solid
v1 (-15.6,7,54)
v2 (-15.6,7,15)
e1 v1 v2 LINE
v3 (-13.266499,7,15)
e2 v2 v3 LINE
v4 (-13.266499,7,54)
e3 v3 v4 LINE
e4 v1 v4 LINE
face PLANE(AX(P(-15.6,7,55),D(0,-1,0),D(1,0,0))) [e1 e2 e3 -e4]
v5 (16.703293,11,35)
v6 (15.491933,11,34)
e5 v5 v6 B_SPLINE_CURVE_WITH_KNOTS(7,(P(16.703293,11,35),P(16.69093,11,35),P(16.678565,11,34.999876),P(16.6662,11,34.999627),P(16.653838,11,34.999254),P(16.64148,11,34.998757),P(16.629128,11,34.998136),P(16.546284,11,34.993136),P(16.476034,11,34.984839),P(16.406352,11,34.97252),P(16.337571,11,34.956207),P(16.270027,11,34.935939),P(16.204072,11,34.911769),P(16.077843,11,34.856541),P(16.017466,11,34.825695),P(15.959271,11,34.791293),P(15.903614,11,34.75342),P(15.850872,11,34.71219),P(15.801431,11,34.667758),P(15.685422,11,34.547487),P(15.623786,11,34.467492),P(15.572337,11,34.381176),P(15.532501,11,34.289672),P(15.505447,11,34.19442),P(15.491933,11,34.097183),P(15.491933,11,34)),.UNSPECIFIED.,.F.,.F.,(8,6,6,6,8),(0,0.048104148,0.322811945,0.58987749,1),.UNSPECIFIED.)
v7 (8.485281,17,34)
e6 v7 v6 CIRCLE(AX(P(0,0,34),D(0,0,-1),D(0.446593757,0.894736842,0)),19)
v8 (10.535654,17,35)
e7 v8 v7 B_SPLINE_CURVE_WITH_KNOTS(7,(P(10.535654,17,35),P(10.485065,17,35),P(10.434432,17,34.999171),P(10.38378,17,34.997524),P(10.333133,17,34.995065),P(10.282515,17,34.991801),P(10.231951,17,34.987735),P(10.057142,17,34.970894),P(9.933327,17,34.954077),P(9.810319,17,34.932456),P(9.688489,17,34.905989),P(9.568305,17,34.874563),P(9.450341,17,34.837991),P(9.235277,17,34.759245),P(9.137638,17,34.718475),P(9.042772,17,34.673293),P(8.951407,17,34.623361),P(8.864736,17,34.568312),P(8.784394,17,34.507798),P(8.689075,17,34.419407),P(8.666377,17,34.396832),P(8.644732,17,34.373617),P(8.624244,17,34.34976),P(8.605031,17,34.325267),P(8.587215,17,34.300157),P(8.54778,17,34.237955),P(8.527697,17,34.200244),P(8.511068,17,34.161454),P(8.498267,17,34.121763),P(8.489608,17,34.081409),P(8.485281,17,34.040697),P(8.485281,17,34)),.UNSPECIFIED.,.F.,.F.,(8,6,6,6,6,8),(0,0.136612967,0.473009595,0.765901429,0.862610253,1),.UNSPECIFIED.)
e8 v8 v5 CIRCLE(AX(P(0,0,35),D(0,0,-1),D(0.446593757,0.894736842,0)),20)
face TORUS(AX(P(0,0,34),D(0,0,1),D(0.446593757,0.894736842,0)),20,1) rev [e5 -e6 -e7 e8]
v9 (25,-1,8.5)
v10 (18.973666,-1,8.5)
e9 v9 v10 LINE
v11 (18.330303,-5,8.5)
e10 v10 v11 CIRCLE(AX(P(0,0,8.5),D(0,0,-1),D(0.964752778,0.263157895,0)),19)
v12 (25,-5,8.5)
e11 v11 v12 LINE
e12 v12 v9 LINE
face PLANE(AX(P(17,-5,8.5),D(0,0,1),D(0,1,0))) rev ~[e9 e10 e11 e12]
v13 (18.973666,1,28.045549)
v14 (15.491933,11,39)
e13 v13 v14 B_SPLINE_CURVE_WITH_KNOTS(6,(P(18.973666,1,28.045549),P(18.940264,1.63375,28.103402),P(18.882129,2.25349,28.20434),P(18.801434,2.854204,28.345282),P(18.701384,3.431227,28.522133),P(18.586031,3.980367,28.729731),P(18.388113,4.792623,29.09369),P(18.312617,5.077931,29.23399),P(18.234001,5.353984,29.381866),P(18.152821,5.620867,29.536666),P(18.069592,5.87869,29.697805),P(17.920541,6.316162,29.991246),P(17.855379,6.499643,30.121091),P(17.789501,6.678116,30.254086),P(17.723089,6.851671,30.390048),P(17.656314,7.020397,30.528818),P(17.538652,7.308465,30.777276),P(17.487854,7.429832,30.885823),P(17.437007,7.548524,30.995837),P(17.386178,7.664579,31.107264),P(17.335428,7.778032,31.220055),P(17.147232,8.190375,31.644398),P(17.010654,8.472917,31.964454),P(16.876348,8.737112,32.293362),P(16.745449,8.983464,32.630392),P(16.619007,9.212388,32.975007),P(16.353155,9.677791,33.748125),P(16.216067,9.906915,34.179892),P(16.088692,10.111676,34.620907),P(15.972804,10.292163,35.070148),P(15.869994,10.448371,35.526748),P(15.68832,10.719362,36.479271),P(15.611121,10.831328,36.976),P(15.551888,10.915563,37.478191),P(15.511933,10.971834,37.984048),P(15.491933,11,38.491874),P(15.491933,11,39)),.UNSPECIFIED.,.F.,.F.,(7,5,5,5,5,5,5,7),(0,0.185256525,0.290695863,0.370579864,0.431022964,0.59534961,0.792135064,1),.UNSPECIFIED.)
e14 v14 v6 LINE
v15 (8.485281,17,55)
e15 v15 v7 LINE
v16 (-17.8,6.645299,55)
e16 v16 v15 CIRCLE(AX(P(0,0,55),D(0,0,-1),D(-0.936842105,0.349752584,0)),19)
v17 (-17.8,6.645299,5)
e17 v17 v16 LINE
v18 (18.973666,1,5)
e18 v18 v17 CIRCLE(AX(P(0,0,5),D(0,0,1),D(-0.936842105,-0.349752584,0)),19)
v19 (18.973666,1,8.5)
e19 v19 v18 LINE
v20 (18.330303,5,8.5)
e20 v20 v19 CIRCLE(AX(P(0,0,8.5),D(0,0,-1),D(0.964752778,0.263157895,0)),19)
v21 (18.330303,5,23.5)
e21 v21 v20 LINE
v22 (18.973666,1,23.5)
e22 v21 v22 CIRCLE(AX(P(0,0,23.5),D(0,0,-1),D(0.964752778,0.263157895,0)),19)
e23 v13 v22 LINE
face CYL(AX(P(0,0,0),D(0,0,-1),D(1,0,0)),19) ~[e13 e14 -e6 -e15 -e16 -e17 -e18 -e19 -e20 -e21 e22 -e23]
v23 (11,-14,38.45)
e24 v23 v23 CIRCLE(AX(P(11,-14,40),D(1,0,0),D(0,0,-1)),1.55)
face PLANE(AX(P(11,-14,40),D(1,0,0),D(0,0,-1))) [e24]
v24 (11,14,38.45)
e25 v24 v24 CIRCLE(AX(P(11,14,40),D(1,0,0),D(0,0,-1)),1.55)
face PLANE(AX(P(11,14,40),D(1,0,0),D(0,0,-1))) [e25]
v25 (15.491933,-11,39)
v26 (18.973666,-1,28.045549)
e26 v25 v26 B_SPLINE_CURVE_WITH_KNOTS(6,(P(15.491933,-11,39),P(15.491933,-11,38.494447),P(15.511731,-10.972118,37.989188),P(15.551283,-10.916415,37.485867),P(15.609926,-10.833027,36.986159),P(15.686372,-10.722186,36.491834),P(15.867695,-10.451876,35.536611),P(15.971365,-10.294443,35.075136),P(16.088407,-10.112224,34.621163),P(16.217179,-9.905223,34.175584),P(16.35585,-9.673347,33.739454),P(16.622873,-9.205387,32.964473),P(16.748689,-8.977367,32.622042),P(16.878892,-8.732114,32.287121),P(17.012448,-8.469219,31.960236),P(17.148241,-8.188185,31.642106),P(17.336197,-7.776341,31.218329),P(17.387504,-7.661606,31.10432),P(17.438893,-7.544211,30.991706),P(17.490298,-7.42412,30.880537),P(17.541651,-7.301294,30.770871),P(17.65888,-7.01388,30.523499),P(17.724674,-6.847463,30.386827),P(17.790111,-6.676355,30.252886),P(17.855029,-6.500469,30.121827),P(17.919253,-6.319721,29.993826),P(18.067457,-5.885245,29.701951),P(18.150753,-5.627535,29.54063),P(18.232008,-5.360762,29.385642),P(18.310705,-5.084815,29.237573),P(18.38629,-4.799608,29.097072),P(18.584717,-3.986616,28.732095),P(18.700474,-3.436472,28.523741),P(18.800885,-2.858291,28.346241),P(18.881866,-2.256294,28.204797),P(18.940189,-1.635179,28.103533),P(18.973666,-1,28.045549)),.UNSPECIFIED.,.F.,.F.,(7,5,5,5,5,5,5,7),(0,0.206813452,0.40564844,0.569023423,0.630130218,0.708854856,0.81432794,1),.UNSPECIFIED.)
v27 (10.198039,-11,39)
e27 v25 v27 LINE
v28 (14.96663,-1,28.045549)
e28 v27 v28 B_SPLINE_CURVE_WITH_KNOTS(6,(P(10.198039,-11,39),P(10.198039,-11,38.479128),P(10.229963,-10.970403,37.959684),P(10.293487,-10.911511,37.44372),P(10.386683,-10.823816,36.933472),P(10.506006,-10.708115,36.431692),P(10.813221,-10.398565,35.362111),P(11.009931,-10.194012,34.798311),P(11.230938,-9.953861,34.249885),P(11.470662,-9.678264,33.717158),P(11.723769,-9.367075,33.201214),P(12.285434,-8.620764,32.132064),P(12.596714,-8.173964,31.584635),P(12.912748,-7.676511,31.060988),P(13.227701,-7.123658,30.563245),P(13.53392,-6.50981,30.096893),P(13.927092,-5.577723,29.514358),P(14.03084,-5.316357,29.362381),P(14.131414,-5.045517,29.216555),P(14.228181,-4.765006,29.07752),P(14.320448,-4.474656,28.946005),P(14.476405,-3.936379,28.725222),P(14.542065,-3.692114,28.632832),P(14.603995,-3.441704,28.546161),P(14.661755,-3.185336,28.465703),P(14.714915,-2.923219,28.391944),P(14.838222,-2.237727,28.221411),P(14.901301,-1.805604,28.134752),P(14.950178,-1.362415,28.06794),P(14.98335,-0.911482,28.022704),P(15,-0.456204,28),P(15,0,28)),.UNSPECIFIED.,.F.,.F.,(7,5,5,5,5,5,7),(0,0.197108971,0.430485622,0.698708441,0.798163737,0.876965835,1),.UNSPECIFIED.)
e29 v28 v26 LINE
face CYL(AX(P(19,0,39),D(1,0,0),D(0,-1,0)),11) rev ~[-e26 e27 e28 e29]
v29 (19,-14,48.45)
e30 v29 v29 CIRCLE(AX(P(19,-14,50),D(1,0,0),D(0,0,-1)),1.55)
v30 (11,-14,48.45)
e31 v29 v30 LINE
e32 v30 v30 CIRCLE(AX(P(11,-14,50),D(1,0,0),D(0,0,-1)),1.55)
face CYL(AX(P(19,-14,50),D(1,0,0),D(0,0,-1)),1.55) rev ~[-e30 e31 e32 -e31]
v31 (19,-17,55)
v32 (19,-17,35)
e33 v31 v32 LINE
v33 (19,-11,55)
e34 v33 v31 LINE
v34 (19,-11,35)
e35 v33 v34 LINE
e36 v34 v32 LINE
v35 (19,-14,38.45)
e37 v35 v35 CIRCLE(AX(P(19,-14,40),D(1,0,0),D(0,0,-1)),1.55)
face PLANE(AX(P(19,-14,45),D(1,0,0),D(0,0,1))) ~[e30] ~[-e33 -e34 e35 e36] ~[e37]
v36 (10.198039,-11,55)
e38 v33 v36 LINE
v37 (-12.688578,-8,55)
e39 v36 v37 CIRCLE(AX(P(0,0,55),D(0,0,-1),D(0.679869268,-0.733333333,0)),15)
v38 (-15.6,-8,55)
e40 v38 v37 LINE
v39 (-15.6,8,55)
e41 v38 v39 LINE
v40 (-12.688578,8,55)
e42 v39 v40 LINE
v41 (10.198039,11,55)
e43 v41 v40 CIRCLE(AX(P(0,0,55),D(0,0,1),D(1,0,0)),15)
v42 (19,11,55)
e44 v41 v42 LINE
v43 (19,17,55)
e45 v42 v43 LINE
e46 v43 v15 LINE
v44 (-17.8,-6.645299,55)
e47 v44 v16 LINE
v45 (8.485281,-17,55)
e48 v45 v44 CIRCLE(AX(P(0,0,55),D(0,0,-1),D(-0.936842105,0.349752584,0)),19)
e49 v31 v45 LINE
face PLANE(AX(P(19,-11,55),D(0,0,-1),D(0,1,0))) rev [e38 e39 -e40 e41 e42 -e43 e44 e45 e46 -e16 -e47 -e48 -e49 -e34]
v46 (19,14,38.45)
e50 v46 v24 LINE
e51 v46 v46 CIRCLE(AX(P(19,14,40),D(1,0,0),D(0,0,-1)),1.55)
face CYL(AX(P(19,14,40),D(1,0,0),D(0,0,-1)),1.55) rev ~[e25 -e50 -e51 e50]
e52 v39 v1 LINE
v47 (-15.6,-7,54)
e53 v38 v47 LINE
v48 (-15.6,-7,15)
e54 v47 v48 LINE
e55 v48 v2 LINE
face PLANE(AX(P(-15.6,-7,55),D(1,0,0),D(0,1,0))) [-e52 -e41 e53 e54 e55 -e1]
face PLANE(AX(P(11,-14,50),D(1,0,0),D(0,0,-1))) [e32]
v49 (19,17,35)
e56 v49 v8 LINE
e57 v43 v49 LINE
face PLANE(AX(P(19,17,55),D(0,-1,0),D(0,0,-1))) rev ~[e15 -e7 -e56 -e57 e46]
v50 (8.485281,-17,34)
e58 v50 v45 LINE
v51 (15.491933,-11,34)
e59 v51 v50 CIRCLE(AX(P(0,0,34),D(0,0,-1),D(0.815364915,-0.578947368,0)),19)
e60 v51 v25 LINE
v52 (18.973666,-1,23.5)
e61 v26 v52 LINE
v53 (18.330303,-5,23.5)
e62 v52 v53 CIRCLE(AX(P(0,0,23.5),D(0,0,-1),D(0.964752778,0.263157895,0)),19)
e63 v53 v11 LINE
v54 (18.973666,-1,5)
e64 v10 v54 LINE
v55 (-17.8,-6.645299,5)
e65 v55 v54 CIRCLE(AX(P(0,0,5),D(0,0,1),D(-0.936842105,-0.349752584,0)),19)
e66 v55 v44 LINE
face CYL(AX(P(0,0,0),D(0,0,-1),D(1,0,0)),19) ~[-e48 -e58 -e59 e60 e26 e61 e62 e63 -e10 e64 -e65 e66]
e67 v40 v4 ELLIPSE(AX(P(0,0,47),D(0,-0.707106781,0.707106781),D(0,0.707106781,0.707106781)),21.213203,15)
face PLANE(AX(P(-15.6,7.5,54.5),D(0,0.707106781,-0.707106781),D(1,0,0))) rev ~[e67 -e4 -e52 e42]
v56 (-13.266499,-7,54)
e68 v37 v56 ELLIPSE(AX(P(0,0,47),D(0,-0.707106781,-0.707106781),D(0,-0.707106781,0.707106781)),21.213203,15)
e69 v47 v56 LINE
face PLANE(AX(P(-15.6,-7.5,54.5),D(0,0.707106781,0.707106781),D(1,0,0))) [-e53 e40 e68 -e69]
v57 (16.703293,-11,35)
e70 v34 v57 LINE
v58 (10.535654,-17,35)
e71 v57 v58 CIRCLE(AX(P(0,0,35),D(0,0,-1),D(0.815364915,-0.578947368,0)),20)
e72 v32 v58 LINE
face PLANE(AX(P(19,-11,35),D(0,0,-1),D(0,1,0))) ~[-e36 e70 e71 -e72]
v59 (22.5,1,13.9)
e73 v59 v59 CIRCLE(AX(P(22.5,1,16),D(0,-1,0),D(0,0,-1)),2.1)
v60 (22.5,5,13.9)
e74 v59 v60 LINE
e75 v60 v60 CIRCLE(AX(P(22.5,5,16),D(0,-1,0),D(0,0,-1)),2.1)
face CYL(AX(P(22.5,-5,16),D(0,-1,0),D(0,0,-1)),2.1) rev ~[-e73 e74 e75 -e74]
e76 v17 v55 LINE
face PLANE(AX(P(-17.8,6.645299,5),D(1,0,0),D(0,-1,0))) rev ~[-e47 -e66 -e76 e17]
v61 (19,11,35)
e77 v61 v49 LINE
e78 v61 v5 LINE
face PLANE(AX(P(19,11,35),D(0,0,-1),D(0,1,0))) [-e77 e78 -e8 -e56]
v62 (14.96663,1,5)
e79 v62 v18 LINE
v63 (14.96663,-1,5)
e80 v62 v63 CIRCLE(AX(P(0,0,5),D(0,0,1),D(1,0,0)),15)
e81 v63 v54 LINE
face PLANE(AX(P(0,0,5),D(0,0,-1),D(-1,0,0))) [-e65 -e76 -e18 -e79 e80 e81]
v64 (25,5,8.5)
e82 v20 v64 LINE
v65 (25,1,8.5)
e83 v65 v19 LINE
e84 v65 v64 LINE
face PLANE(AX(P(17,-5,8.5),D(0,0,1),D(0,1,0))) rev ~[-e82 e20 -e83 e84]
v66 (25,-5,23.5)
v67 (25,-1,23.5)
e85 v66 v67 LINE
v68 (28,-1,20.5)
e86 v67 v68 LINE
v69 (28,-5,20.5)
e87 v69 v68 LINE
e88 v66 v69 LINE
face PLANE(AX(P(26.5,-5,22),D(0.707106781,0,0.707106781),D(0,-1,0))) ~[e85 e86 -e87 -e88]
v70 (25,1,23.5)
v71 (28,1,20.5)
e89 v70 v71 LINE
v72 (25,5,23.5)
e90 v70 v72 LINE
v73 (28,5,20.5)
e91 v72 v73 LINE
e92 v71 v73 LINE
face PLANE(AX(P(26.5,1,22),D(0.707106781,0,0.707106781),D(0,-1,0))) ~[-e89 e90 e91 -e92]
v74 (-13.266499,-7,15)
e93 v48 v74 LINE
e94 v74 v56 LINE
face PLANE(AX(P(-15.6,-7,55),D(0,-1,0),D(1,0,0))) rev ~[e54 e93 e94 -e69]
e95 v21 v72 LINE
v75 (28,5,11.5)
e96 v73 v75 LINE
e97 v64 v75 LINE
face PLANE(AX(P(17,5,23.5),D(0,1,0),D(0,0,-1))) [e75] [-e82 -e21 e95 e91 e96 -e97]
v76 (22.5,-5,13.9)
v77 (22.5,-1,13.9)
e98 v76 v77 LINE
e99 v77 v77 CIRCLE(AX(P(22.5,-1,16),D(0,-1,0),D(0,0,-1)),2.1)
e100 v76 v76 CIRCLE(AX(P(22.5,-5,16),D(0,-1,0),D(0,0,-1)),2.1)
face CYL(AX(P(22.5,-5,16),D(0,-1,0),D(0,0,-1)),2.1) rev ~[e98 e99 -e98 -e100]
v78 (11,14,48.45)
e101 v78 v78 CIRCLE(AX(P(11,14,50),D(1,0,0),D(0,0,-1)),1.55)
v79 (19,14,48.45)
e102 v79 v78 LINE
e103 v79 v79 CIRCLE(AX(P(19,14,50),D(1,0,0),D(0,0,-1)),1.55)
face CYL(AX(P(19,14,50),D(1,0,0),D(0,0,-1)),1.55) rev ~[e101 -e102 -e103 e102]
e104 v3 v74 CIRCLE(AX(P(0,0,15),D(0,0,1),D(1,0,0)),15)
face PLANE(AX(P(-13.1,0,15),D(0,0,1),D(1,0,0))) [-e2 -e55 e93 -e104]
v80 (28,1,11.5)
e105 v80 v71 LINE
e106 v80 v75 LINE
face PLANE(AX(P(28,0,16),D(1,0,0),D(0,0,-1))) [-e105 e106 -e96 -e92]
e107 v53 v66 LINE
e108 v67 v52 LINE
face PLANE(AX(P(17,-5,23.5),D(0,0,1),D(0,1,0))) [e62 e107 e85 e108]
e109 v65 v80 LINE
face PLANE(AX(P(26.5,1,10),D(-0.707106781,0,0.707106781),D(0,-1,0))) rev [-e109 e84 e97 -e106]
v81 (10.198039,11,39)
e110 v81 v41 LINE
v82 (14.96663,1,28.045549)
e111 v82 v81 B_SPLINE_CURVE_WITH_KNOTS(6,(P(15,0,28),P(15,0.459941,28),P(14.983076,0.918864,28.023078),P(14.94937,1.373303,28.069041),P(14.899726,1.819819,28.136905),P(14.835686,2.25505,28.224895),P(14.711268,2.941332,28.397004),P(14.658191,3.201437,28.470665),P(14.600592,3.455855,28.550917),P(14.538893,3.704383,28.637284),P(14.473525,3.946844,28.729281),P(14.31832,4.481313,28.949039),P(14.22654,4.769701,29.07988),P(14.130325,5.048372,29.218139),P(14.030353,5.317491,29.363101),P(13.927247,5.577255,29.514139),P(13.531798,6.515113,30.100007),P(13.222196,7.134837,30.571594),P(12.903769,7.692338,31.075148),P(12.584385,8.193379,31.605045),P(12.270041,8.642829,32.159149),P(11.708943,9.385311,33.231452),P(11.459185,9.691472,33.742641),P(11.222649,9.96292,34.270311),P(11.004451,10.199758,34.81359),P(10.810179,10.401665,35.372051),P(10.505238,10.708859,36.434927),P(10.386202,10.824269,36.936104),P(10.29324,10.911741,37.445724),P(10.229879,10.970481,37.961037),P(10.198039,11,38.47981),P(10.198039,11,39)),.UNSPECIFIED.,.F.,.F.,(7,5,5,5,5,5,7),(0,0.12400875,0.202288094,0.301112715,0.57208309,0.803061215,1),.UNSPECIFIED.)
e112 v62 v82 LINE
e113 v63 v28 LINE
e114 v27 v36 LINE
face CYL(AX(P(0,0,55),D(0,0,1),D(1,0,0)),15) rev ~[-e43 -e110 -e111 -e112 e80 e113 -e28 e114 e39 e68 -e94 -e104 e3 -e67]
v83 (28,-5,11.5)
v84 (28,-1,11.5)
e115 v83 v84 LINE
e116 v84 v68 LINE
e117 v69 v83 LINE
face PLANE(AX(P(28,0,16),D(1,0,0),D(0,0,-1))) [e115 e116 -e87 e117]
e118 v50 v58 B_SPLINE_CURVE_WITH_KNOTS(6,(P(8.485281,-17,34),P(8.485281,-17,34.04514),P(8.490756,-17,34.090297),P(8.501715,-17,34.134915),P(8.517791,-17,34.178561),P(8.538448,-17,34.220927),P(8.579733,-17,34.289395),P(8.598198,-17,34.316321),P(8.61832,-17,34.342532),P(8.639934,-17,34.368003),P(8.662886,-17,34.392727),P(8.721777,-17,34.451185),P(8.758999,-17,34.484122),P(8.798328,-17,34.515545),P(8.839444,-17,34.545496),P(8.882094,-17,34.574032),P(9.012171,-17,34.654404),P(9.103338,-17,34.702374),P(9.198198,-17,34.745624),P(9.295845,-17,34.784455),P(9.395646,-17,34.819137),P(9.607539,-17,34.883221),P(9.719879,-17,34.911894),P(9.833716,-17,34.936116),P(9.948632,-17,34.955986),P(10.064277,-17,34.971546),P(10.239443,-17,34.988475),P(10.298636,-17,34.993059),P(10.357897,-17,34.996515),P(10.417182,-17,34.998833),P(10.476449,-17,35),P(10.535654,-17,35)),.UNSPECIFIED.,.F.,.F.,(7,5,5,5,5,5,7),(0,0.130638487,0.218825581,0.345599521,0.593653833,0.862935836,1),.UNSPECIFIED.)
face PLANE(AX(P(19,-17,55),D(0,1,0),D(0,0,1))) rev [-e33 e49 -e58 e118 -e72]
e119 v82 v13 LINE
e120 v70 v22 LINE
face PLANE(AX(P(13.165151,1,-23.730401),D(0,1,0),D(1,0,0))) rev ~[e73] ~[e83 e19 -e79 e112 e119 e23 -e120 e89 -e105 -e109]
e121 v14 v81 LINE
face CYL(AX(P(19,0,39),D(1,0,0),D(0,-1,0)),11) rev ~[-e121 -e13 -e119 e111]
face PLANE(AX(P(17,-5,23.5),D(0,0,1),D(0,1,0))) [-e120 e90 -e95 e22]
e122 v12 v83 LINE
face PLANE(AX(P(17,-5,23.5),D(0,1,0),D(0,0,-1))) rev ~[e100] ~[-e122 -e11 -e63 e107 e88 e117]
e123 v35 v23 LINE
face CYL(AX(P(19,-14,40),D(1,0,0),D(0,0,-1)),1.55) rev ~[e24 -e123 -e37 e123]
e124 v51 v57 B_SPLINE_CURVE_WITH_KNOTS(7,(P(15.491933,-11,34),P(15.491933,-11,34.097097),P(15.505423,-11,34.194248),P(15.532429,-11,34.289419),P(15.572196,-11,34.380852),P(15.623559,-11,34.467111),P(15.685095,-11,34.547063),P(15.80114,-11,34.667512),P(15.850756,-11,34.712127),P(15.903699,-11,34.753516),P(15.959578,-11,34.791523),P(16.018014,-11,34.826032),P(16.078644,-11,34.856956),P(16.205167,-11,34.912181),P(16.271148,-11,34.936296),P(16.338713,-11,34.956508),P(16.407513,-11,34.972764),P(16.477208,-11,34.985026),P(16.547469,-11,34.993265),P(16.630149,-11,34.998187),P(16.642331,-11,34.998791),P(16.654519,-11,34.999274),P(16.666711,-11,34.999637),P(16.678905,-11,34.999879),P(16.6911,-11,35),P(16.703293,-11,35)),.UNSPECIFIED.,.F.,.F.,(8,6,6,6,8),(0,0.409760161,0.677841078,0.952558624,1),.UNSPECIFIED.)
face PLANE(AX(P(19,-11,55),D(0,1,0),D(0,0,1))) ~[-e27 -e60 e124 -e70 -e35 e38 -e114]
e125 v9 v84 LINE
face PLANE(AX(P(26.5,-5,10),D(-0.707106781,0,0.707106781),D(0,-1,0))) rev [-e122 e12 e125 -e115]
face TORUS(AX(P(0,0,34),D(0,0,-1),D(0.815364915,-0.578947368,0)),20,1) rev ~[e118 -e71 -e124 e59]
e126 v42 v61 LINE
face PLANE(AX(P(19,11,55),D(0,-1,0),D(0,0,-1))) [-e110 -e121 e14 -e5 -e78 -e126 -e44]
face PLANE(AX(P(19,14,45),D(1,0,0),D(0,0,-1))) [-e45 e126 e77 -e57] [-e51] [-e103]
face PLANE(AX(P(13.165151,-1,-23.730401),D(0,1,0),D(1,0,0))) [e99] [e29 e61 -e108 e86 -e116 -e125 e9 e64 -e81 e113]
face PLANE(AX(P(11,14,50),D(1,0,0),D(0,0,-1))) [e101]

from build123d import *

# Parameters (mm, degrees)
SKETCH_1_R                = 19
EXTRUDE_2_DEPTH           = 55
SKETCH_11_W               = 5
SKETCH_11_H               = 14
CUT_EXTRUDE_10_DEPTH      = 40
EXTRUDE_4_DEPTH           = 9
EXTRUDE_4_DEPTH_BACK      = 2
SKETCH_12_W               = 15
SKETCH_12_H               = 10
SKETCH_13_R               = 2.1
CUT_EXTRUDE_11_DEPTH      = 67.219332525
SKETCH_19_R               = 19
CUT_EXTRUDE_17_DEPTH      = 5
CUT_EXTRUDE_19_DEPTH      = 61.373835392
CUT_EXTRUDE_20_DEPTH      = 47.230401253
CUT_EXTRUDE_20_DEPTH_BACK = 47.230401253
SKETCH_14_W               = 20
SKETCH_14_H               = 2
CUT_EXTRUDE_21_DEPTH      = 10
SKETCH_24_W               = 20
SKETCH_24_H               = 6
EXTRUDE_5_DEPTH           = 20
SKETCH_3_R                = 15
CUT_EXTRUDE_1_DEPTH       = 61.373835507
CHAMFER_2_SIZE            = 3
CHAMFER_3_SIZE            = 1
FILLET_2_R                = 1
SKETCH_25_R               = 1.55
CUT_EXTRUDE_22_DEPTH      = 8
PATTERN_LINEAR_1_COUNT    = 2
PATTERN_LINEAR_1_PITCH    = 10
MIRROR_2_COPY_1_SKETCH_R  = 1.55
MIRROR_2_COPY_1_DEPTH     = 8
MIRROR_2_COPY_2_SKETCH_R  = 1.55
MIRROR_2_COPY_2_DEPTH     = 8
FILLET_2_OF_MIRROR_2_R    = 1


with BuildPart() as part:
    # 草圖1 → 填料-伸長2 (new body)
    with BuildSketch(Plane.XY):
        Circle(SKETCH_1_R)
    extrude(amount=EXTRUDE_2_DEPTH)

    # 草圖11 → 除料-伸長10 (cut)
    with BuildSketch(Plane.XY.offset(55)):
        with Locations((-13.1, 0)):
            Rectangle(SKETCH_11_W, SKETCH_11_H)
    extrude(amount=-CUT_EXTRUDE_10_DEPTH, mode=Mode.SUBTRACT)

    # 草圖12 → 填料-伸長4 (add, two sides: drawn at the far end of the back side and taken through both)
    with BuildSketch(Plane(origin=(19, 0, 0), x_dir=(0, 0, -1), z_dir=(1, 0, 0)).offset(-EXTRUDE_4_DEPTH_BACK)):
        with Locations((-16, 0)):
            Rectangle(SKETCH_12_W, SKETCH_12_H)
    extrude(amount=EXTRUDE_4_DEPTH + EXTRUDE_4_DEPTH_BACK)

    # 草圖13 → 除料-伸長11 (cut, through all)
    with BuildSketch(Plane.XZ.offset(5)):
        with Locations(Location((22.5, 16, 0), (0, 0, 270))):
            Circle(SKETCH_13_R)
    extrude(amount=-CUT_EXTRUDE_11_DEPTH, mode=Mode.SUBTRACT)

    # 草圖19 → 除料-伸長17 (cut)
    with BuildSketch(Plane(origin=(0, 0, 0), x_dir=(-1, 0, 0), z_dir=(0, 0, -1))):
        Circle(SKETCH_19_R)
    extrude(amount=-CUT_EXTRUDE_17_DEPTH, mode=Mode.SUBTRACT)

    # 草圖22 → 除料-伸長19 (cut, through all)
    with BuildSketch(Plane(origin=(0, 0, 5), x_dir=(-1, 0, 0), z_dir=(0, 0, -1))):
        with BuildLine():
            Line((17.8, 6.64529909), (17.8, -6.64529909))
            ThreePointArc((17.8, -6.64529909), (19, 0), (17.8, 6.64529909))
        make_face()
    extrude(amount=-CUT_EXTRUDE_19_DEPTH, mode=Mode.SUBTRACT)

    # 草圖14 → 除料-伸長20 (cut, two sides: drawn at the far end of the back side and taken through both)
    with BuildSketch(Plane.XY.offset(23.5).offset(-CUT_EXTRUDE_20_DEPTH_BACK)):
        with Locations((23.16515139, 0)):
            Rectangle(SKETCH_14_W, SKETCH_14_H)
    extrude(amount=CUT_EXTRUDE_20_DEPTH + CUT_EXTRUDE_20_DEPTH_BACK, mode=Mode.SUBTRACT)

    # 草圖23 → 除料-伸長21 (cut)
    with BuildSketch(Plane(origin=(19, 0, 0), x_dir=(0, 0, -1), z_dir=(1, 0, 0))):
        with BuildLine():
            Line((-39, 11), (-55, 11))
            Line((-55, 11), (-55, -11))
            Line((-55, -11), (-39, -11))
            ThreePointArc((-39, -11), (-28, 0), (-39, 11))
        make_face()
    extrude(amount=-CUT_EXTRUDE_21_DEPTH, mode=Mode.SUBTRACT)

    # 草圖24 → 填料-伸長5 (add)
    with BuildSketch(Plane(origin=(19, 0, 0), x_dir=(0, 0, -1), z_dir=(1, 0, 0))):
        with Locations((-45, 14)):
            Rectangle(SKETCH_24_W, SKETCH_24_H)
    extrude_5 = extrude(amount=-EXTRUDE_5_DEPTH)

    # 草圖3 → 除料-伸長1 (cut, through all)
    with BuildSketch(Plane.XY.offset(55)):
        Circle(SKETCH_3_R)
    cut_extrude_1 = extrude(amount=-CUT_EXTRUDE_1_DEPTH, mode=Mode.SUBTRACT)

    # 導角2
    chamfer_2_edges = [part.edges().sort_by_distance(p)[0] for p in [
        (28, 3, 23.5),
        (28, -3, 8.5),
        (28, -3, 23.5),
        (28, 3, 8.5),
    ]]
    chamfer(chamfer_2_edges, length=CHAMFER_2_SIZE)

    # 導角3
    chamfer_3_edges = [part.edges().sort_by_distance(p)[0] for p in [
        (-14.433249581, 7, 55),
        (-14.433249581, -7, 55),
    ]]
    chamfer(chamfer_3_edges, length=CHAMFER_3_SIZE)

    # 圓角2
    fillet_2_edges = [part.edges().sort_by_distance(p)[0] for p in [
        (12.35826472, 14.431676725, 35),
    ]]
    fillet(fillet_2_edges, radius=FILLET_2_R)

    # 草圖25 → 除料-伸長22 (cut)
    with BuildSketch(Plane(origin=(19, 0, 0), x_dir=(0, 0, -1), z_dir=(1, 0, 0))):
        with Locations((-50, 14)):
            Circle(SKETCH_25_R)
    cut_extrude_22 = extrude(amount=-CUT_EXTRUDE_22_DEPTH, mode=Mode.SUBTRACT)

    # 直線複製排列1: 除料-伸長22 ×2
    with Locations(*[(0, 0, -i * PATTERN_LINEAR_1_PITCH) for i in range(1, PATTERN_LINEAR_1_COUNT)]):
        add(cut_extrude_22, mode=Mode.SUBTRACT)

    # 鏡射2: 填料-伸長5, 除料-伸長1 across plane
    add(extrude_5.mirror(Plane.ZX))
    add(cut_extrude_1.mirror(Plane.ZX), mode=Mode.SUBTRACT)

    # 鏡射2 copy 1 sketch → 鏡射2 copy 1 (cut)
    with BuildSketch(Plane(origin=(19, 0, -10), x_dir=(0, 0, -1), z_dir=(1, 0, 0))):
        with Locations((-50, -14)):
            Circle(MIRROR_2_COPY_1_SKETCH_R)
    extrude(amount=-MIRROR_2_COPY_1_DEPTH, mode=Mode.SUBTRACT)

    # 鏡射2 copy 2 sketch → 鏡射2 copy 2 (cut)
    with BuildSketch(Plane(origin=(19, 0, 0), x_dir=(0, 0, -1), z_dir=(1, 0, 0))):
        with Locations((-50, -14)):
            Circle(MIRROR_2_COPY_2_SKETCH_R)
    extrude(amount=-MIRROR_2_COPY_2_DEPTH, mode=Mode.SUBTRACT)

    # 圓角2 of 鏡射2
    fillet_2_of_mirror_2_edges = [part.edges().sort_by_distance(p)[0] for p in [
        (12.35826472, -14.431676725, 35),
    ]]
    fillet(fillet_2_of_mirror_2_edges, radius=FILLET_2_OF_MIRROR_2_R)


solid = part.part
